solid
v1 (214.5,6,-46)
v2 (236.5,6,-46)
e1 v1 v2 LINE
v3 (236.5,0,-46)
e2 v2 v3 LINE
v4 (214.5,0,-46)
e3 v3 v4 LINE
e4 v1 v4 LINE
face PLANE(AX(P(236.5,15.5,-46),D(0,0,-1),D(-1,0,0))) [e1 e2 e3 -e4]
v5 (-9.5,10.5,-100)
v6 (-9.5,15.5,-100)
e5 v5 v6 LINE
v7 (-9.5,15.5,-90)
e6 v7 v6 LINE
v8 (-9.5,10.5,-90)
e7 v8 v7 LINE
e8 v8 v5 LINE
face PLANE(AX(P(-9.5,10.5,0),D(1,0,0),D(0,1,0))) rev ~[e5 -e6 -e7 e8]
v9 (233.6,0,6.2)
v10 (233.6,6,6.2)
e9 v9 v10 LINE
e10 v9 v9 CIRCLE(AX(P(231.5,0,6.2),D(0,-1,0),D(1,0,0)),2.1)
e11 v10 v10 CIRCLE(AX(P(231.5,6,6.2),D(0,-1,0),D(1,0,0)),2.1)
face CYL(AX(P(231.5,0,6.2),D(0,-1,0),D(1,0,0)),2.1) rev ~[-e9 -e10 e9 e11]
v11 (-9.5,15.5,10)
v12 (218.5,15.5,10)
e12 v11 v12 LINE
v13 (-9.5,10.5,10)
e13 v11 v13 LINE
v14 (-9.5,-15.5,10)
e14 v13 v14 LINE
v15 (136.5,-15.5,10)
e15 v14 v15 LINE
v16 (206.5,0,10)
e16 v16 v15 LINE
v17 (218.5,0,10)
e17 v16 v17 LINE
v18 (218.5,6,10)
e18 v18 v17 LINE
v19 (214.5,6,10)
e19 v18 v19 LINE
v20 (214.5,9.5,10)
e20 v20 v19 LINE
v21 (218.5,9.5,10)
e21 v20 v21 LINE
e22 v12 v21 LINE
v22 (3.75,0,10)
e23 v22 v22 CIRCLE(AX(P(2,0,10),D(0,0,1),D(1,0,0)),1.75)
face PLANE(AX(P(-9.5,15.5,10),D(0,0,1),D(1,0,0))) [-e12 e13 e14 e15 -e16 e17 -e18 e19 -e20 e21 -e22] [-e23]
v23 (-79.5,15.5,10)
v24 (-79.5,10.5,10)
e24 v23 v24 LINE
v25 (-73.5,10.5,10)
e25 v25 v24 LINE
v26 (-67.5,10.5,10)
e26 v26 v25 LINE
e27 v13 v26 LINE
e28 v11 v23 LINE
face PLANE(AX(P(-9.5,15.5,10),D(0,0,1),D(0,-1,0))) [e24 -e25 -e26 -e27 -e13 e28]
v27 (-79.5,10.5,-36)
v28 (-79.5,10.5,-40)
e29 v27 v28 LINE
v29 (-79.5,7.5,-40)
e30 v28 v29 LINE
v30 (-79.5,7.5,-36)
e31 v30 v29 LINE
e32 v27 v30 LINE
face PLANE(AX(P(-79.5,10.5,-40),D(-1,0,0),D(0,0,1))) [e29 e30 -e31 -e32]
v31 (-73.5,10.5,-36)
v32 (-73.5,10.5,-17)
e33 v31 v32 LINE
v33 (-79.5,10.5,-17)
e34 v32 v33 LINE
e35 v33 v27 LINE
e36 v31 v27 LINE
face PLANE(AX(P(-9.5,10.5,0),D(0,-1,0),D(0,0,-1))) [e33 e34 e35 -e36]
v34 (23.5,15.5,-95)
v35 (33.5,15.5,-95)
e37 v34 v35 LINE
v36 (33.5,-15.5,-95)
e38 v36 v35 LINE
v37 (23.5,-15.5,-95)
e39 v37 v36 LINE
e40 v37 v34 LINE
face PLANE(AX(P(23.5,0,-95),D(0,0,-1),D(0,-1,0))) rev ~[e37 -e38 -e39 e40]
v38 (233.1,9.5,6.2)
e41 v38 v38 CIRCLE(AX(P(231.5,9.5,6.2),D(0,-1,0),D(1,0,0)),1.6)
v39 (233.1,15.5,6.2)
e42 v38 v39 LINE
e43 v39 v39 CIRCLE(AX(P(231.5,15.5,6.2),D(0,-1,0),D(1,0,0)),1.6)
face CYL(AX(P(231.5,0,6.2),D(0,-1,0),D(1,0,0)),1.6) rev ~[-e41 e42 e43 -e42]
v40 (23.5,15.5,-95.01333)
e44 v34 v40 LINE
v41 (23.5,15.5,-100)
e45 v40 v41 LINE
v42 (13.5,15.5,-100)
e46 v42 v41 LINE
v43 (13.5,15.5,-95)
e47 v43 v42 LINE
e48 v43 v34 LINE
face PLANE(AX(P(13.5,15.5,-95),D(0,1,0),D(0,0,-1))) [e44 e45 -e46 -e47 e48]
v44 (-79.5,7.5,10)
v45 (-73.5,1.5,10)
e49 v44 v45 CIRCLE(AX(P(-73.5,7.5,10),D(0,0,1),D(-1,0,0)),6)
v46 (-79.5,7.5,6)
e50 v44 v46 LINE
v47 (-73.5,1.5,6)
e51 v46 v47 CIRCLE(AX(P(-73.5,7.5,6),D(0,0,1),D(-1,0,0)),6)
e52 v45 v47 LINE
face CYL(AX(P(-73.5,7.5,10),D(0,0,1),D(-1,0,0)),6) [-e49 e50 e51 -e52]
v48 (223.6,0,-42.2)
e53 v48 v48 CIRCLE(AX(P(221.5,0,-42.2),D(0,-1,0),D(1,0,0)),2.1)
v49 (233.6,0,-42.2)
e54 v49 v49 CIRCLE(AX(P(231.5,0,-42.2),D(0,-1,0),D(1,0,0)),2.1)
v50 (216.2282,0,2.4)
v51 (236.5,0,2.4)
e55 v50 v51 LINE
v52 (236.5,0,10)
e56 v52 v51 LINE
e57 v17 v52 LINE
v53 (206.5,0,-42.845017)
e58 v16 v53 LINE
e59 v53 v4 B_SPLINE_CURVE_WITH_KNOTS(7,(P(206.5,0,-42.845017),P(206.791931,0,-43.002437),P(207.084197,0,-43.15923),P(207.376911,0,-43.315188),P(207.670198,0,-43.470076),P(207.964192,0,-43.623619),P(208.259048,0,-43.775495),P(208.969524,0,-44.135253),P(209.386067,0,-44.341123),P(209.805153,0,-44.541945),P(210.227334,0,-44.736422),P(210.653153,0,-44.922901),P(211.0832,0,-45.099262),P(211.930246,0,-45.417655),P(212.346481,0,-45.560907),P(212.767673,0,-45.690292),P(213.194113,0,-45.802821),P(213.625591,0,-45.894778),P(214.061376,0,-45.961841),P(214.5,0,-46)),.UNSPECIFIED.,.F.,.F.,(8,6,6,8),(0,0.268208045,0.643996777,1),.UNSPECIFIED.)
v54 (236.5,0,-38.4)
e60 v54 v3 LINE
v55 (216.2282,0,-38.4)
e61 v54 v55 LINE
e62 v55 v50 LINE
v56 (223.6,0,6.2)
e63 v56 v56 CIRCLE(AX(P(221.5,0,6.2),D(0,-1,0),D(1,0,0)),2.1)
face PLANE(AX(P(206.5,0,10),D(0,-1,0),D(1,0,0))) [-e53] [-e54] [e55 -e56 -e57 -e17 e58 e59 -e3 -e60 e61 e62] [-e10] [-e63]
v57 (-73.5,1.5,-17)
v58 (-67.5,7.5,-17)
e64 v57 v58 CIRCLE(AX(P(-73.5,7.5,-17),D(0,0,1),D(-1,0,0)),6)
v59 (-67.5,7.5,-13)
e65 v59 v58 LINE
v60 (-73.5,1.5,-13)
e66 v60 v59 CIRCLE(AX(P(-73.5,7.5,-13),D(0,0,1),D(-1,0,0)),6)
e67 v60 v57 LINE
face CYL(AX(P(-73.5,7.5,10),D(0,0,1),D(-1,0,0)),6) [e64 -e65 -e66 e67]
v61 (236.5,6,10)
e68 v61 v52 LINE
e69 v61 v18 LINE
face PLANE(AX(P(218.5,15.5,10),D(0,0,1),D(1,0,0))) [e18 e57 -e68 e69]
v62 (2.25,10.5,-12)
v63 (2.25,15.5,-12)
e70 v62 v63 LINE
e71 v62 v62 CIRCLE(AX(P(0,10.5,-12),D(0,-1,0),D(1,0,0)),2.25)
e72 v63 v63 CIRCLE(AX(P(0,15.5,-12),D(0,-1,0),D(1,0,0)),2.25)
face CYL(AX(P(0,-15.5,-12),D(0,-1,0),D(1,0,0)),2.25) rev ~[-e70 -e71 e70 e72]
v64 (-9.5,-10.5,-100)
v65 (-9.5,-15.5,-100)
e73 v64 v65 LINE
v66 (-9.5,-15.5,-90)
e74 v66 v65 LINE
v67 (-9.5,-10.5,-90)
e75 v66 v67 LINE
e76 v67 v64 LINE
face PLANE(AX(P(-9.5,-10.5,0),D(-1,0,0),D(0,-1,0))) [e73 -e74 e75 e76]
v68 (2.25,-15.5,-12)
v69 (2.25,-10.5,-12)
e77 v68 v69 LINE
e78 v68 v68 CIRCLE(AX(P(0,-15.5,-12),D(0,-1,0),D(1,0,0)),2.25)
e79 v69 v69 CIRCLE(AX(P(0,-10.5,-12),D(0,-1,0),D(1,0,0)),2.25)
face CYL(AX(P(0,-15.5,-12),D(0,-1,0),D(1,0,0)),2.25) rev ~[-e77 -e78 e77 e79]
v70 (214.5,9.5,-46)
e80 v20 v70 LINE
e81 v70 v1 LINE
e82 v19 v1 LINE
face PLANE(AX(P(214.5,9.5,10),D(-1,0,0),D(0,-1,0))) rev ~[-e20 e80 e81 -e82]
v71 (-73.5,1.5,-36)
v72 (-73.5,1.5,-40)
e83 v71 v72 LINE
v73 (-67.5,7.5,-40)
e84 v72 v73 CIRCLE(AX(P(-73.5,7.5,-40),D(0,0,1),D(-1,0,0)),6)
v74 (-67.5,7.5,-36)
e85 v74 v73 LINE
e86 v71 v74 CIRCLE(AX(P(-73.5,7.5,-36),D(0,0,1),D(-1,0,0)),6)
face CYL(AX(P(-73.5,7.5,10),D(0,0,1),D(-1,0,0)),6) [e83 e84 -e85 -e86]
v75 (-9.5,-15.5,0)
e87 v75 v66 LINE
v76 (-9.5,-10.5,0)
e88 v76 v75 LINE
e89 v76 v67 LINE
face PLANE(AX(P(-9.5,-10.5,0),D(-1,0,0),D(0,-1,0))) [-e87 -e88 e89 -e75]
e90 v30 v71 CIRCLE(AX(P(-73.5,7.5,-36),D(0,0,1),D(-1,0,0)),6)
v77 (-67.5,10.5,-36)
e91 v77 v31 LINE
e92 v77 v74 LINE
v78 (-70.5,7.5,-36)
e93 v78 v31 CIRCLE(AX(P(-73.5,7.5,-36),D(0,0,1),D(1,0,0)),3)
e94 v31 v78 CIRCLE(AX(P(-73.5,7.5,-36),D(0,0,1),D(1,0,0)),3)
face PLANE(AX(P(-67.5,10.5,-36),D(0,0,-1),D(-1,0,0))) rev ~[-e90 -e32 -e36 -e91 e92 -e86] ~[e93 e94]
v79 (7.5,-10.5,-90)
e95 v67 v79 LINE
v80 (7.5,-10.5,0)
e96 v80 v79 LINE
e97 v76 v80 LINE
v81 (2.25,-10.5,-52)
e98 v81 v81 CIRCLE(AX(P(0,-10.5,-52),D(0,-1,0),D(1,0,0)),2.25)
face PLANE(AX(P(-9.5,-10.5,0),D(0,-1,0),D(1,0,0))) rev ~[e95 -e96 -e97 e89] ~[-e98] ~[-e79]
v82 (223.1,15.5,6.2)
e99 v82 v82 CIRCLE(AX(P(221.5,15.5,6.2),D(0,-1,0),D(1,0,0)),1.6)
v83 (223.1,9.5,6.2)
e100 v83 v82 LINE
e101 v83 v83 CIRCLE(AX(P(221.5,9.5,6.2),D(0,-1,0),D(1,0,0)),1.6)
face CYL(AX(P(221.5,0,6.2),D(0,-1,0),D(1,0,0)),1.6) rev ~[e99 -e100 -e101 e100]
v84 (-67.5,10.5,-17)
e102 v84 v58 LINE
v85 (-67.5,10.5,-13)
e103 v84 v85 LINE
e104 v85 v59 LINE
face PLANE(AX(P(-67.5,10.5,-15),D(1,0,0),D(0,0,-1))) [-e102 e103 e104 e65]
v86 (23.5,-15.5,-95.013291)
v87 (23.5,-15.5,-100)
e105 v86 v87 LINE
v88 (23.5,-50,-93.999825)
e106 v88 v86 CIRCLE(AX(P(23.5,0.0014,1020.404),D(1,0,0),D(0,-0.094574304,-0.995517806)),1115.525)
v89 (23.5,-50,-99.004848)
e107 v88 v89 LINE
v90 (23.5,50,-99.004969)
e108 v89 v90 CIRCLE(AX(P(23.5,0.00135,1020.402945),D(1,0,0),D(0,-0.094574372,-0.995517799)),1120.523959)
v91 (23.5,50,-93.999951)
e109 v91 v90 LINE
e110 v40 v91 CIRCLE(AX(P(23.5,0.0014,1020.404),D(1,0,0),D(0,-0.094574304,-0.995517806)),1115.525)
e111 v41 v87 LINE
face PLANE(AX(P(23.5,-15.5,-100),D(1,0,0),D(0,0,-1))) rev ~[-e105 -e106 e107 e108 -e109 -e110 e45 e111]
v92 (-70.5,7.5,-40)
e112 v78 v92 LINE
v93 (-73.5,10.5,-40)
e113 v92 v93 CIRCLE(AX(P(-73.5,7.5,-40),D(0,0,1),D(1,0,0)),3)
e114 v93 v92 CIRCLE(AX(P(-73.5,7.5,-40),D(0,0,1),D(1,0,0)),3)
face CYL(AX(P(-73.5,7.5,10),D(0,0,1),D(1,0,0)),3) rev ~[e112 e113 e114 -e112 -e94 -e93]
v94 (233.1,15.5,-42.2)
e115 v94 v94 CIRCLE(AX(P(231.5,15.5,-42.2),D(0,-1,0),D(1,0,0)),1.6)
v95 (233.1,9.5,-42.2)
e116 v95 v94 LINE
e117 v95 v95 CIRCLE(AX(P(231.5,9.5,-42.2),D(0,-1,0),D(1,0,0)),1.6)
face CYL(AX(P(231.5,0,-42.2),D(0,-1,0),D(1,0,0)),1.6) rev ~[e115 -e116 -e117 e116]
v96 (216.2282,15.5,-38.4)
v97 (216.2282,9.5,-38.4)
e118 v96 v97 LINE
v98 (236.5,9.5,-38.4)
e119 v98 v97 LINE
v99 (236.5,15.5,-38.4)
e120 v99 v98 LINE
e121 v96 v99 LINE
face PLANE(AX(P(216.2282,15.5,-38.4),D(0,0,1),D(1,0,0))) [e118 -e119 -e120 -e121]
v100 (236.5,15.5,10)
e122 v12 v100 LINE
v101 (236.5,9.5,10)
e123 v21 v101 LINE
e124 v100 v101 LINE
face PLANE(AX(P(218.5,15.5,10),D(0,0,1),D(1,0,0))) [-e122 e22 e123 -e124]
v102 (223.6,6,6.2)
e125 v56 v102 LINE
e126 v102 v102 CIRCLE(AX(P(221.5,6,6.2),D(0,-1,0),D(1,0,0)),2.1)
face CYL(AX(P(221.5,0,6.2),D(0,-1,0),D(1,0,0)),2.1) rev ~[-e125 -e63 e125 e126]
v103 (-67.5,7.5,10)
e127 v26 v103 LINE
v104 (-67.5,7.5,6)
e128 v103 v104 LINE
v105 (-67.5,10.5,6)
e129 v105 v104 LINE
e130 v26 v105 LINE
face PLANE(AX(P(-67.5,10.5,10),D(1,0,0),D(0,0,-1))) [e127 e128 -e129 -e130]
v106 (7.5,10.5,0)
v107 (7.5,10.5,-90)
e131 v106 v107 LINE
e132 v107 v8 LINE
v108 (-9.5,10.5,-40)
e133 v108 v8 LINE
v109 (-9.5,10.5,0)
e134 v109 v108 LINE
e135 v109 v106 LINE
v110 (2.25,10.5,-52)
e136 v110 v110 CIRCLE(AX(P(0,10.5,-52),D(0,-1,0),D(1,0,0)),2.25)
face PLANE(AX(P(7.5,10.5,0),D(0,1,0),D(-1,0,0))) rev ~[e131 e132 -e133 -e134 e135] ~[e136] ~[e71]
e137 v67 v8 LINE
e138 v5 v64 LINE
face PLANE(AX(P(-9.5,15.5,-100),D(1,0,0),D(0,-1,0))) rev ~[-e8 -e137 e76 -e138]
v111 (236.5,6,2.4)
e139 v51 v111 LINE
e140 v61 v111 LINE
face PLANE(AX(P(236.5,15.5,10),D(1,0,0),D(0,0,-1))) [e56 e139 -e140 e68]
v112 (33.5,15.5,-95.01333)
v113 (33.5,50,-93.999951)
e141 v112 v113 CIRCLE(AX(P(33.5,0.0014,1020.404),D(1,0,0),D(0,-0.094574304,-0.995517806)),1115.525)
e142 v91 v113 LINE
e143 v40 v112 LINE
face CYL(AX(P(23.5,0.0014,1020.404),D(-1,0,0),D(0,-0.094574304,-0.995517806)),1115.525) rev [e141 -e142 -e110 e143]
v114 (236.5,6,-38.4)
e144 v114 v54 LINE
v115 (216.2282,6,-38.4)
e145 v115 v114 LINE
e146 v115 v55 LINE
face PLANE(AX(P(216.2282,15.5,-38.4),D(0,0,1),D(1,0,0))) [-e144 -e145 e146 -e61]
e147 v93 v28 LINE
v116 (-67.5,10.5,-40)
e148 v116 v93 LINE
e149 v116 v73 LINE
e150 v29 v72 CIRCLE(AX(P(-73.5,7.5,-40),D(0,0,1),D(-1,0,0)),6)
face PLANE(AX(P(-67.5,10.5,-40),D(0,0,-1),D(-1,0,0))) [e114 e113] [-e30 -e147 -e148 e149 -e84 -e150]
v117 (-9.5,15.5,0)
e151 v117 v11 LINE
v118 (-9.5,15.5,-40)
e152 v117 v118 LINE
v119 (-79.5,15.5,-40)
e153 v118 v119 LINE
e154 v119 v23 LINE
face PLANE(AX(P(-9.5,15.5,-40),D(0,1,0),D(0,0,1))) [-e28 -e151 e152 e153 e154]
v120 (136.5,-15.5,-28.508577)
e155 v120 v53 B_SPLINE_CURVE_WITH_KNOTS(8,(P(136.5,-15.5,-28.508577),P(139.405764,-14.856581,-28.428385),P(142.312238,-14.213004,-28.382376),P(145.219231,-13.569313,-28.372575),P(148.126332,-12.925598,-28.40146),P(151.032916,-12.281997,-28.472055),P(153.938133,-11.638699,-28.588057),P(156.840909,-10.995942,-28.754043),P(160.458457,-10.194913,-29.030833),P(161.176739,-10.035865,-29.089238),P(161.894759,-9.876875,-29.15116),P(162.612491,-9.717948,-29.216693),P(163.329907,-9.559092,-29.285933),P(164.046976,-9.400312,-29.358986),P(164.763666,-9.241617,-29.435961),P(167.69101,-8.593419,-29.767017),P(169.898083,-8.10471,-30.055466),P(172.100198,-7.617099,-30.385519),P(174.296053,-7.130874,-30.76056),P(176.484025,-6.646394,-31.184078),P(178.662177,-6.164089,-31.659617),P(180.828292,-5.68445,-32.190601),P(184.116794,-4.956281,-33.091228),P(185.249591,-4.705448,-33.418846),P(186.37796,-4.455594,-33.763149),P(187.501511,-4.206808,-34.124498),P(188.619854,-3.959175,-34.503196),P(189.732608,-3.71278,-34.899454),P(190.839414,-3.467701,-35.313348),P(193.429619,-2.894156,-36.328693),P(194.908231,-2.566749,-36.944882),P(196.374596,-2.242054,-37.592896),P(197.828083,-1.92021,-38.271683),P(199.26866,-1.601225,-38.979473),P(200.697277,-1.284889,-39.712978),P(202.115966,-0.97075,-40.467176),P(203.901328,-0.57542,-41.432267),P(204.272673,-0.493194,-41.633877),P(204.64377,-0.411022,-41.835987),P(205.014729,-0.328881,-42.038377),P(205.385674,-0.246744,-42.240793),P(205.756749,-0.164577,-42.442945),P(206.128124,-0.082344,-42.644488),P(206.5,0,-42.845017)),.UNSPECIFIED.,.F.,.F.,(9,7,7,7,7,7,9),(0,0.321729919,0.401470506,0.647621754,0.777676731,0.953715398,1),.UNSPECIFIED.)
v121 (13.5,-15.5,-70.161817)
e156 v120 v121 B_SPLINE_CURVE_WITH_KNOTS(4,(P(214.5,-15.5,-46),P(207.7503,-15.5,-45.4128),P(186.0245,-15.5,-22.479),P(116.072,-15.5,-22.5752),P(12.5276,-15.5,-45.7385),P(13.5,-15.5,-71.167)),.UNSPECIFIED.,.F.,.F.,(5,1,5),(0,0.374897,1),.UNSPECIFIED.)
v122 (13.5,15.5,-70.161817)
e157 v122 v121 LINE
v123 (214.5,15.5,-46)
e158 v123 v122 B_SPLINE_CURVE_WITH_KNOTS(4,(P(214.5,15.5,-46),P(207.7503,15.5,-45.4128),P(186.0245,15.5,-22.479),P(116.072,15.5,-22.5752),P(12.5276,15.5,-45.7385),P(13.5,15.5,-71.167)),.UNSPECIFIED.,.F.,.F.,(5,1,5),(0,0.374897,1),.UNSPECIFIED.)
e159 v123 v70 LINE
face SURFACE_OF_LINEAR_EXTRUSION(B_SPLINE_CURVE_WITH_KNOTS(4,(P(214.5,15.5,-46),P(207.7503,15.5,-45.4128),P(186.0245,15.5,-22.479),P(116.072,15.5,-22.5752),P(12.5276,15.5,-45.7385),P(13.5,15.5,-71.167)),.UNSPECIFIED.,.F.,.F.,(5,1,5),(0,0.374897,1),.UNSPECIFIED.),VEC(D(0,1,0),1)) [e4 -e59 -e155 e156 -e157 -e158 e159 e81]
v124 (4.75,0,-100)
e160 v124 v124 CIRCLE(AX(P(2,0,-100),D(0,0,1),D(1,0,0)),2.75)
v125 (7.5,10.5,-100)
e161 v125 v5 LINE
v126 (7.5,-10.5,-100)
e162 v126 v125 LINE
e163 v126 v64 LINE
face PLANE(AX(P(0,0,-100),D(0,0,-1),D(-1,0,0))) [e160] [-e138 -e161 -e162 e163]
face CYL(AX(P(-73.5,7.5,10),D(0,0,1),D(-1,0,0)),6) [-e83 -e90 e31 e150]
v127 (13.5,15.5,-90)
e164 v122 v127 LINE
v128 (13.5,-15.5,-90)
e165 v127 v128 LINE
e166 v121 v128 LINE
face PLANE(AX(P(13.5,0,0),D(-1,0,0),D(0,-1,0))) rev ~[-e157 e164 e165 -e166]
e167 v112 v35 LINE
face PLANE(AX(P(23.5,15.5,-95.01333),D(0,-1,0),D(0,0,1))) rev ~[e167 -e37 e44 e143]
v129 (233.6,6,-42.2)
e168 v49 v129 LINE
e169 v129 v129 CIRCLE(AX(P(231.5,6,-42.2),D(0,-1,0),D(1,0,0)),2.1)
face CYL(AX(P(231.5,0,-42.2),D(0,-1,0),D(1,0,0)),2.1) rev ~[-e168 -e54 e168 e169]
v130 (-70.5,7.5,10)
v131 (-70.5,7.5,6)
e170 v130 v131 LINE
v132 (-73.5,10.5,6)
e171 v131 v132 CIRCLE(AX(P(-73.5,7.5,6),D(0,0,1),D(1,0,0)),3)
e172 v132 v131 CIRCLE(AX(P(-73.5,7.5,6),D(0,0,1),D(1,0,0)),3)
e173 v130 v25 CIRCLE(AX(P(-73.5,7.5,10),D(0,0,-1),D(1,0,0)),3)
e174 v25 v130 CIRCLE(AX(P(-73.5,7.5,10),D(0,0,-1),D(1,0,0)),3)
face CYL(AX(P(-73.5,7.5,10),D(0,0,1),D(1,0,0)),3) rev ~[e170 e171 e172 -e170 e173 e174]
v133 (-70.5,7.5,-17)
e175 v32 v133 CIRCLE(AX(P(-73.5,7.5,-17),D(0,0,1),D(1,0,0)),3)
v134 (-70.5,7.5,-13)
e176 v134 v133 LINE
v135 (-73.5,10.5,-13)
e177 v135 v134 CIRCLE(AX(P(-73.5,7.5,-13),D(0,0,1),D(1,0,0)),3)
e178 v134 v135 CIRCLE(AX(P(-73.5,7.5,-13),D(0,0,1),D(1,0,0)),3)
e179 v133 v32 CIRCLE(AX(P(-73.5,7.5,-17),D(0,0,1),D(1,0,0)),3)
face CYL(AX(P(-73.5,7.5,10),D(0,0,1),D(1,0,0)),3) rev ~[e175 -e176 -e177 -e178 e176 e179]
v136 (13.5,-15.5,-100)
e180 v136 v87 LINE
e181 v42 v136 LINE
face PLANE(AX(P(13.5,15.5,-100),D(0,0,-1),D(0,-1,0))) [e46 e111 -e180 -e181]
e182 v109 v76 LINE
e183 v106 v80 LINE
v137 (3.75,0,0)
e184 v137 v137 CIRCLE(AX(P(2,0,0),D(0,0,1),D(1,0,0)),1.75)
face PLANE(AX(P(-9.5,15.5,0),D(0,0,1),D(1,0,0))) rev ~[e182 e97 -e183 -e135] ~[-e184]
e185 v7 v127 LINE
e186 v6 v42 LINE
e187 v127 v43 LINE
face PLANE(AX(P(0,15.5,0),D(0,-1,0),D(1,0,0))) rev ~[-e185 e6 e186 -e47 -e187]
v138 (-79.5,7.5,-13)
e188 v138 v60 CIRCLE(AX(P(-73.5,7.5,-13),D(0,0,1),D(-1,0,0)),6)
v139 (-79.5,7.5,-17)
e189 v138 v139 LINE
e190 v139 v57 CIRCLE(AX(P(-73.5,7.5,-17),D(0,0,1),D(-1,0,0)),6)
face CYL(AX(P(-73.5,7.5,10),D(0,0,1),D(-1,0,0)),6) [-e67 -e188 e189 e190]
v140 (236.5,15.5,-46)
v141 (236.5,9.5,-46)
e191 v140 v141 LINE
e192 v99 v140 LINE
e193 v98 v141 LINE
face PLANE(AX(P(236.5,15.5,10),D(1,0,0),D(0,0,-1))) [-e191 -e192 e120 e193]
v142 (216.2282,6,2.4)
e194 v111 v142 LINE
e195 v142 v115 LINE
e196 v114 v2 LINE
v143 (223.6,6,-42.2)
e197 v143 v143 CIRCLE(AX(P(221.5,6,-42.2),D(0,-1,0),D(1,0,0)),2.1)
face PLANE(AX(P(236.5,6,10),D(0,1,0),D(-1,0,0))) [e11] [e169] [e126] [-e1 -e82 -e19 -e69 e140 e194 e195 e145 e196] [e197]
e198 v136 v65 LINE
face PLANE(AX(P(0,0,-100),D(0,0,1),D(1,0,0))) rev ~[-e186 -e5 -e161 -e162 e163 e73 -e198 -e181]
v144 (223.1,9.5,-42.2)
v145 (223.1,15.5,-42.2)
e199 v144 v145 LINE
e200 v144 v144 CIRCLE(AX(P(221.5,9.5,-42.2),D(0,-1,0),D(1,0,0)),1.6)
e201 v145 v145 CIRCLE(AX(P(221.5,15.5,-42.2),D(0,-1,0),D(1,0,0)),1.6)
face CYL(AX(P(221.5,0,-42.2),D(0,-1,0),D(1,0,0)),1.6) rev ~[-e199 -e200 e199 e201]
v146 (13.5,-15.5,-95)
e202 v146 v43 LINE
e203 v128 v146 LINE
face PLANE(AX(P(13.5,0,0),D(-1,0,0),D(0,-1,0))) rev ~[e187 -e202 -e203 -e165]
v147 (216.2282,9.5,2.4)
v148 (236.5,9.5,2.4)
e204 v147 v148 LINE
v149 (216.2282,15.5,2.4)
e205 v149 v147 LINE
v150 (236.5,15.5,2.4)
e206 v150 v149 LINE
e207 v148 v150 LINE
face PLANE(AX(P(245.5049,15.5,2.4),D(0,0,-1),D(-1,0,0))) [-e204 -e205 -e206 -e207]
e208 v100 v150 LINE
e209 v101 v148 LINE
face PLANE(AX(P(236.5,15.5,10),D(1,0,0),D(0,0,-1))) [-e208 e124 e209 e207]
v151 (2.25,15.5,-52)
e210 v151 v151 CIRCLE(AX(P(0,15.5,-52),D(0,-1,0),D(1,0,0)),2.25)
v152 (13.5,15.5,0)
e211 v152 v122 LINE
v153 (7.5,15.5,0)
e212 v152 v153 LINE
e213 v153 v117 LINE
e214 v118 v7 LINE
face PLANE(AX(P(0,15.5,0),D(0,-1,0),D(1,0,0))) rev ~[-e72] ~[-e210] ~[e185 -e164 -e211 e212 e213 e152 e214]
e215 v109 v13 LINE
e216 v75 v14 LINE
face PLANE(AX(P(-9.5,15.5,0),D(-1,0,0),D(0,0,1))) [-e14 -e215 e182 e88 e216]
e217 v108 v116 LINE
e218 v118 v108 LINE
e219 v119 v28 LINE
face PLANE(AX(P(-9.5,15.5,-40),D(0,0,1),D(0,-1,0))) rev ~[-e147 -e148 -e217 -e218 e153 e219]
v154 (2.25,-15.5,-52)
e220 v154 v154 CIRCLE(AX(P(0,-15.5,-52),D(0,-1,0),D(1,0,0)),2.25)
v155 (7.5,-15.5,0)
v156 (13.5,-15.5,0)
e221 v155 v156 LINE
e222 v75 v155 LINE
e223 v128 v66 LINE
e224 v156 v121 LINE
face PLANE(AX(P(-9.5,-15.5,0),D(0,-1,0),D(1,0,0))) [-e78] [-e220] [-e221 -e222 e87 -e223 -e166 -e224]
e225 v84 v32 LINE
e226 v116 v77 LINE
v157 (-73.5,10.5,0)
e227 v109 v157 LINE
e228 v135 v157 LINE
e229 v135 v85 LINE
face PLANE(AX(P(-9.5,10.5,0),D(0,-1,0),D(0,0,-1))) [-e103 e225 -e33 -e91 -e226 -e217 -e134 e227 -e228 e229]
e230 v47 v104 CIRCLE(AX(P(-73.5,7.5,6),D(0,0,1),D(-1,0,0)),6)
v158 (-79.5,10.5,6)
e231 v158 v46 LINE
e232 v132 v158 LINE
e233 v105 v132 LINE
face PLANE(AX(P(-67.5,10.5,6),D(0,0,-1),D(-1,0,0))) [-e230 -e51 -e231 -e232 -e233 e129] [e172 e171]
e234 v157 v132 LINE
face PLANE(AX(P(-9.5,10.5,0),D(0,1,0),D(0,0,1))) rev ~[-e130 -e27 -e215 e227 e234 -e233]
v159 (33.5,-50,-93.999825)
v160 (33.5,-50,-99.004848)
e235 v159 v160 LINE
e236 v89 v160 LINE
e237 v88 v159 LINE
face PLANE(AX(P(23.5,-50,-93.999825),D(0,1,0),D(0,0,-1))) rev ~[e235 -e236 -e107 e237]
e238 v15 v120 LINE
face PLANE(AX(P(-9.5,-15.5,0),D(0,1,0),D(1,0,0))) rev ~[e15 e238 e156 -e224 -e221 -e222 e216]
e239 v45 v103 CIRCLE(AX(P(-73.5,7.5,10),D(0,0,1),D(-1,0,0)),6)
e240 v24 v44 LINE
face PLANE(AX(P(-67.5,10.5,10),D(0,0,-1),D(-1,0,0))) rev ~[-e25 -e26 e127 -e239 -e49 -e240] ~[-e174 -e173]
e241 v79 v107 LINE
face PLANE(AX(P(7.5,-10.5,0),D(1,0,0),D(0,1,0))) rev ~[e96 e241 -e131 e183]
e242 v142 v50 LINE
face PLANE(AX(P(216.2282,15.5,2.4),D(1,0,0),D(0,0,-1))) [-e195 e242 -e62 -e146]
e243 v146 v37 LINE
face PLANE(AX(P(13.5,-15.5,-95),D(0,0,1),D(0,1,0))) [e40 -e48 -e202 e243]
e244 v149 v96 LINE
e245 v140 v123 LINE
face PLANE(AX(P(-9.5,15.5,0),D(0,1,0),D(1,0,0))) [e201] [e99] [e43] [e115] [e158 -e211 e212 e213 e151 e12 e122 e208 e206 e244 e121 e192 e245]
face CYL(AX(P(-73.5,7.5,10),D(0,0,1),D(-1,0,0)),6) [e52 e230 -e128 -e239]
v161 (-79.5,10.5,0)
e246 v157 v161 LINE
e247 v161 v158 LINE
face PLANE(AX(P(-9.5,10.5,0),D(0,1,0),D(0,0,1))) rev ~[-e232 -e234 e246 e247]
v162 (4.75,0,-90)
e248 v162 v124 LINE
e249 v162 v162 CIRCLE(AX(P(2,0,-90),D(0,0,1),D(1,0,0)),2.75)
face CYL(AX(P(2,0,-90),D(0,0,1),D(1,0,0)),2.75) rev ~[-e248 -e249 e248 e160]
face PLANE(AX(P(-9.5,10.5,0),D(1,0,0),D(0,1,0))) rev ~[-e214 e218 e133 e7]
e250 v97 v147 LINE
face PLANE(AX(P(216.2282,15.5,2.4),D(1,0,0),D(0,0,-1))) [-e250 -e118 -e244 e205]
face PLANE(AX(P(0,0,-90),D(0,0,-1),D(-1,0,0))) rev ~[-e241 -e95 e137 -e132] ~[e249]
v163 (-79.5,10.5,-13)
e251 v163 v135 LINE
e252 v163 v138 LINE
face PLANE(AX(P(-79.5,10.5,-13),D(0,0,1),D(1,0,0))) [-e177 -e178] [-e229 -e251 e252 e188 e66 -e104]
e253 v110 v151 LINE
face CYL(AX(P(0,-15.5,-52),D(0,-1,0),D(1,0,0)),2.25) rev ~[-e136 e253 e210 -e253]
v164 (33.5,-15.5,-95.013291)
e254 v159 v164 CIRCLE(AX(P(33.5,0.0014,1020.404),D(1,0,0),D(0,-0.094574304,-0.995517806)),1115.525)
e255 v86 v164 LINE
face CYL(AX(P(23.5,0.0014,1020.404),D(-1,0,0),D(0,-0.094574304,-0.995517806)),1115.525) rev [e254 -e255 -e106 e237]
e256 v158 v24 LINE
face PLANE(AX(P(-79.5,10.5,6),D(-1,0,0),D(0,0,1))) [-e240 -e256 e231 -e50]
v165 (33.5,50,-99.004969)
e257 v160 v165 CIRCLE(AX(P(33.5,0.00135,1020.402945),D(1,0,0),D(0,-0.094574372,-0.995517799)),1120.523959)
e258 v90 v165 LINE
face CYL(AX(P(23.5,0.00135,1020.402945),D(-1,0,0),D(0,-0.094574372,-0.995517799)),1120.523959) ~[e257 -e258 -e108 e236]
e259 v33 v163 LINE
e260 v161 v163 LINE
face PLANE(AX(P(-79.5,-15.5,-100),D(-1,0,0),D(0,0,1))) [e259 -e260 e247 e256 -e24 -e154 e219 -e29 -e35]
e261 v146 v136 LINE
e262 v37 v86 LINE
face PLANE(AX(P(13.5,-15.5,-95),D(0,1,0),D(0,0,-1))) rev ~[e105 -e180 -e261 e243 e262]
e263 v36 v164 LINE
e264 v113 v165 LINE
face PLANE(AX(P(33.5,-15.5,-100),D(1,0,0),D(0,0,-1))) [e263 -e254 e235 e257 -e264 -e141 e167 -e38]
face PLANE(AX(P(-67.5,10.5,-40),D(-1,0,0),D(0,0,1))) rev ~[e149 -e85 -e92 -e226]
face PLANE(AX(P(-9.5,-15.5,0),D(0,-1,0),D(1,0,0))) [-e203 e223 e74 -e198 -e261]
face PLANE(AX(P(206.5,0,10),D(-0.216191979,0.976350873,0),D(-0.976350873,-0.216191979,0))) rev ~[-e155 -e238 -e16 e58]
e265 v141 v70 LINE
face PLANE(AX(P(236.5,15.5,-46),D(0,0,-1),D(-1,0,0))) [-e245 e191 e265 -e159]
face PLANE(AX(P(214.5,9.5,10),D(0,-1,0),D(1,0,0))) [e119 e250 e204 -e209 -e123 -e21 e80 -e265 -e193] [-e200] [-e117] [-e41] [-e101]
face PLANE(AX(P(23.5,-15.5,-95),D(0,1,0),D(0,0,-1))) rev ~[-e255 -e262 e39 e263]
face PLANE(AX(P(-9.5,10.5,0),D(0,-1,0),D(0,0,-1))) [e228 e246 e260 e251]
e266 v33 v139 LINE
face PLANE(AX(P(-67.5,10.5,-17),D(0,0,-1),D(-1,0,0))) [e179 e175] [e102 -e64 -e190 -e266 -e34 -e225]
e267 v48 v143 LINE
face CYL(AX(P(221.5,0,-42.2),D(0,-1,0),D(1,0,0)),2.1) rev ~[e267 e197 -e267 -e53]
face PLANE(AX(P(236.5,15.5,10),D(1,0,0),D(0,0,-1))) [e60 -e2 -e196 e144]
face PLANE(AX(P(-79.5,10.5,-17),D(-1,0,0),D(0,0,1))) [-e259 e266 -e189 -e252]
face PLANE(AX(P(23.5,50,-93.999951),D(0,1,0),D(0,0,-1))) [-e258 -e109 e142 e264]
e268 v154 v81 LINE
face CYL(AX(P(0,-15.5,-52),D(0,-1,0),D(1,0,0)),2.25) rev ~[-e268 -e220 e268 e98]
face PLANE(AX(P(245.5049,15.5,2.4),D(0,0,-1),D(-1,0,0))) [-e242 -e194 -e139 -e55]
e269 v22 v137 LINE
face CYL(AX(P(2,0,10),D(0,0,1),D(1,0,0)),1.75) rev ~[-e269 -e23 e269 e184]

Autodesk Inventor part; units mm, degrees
sketch "Skizze1" plane through (0, 0, 0) normal (0, 0, 1) x (1, 0, 0)
  line L0 (-9.5, -10.5) -> (7.5, -10.5)
  line L1 (7.5, -10.5) -> (7.5, 10.5)
  line L2 (7.5, 10.5) -> (-9.5, 10.5)
  line L3 (-14.1, 0) -> (18.1, 0) projected
  line L4 (0, -21.7) -> (0, 21.7) projected
  line L5 (-9.5, -10.5) -> (-9.5, -15.5)
  line L6 (-9.5, -15.5) -> (13.5, -15.5)
  line L7 (-9.5, 10.5) -> (-9.5, 15.5)
  line L8 (-9.5, 15.5) -> (13.5, 15.5)
  line L9 (13.5, 15.5) -> (13.5, -15.5)
  point P0 (0, 0)
  dimension "d2" = 21
  dimension "d4" = 7.5
  dimension "d5" = 5
  dimension "d8" = 5
  dimension "d9" = 23
  dimension "d147" = 6
  dimension "d148" = 23
extrude "Tower" add sketch "Skizze1" against normal blind 100 contours L0 L4 L6 L5 | L0 L1 L3 L9 L6 L4 | L1 L2 L4 L8 L9 L3 | L2 L7 L8 L4
ref_plane "Arbeitsebene1" through (0, 0, -100) normal (0, 0, -1) x (-1, 0, 0)
sketch "Skizze6" plane through (-9.5, 15.5, 0) normal (0, 1, 0) x (1, 0, 0)
  line L0 (0, 0) -> (23, 0) projected
  line L1 (0, 0) -> (0, -10)
  line L2 (0, -10) -> (228, -10)
  line L3 (23, 0) -> (23, 100) projected
  line L4 (0, -10) -> (246, -10)
  line L5 (246, -10) -> (246, 46)
  line L6 (246, 46) -> (224, 46)
  line L7 (246, 46) -> (268, 46) construction
  line L8 (23, 71.167) -> (23, 0)
  line L9 (0, 0) -> (17, 0) projected
  line L10 (0, 0) -> (0, -12)
  line L11 (246, -12) -> (246, -10)
  spline S0 degree 4 poles (224, 46) (217.2503, 45.4128) (195.5245, 22.479) (125.572, 22.5752) (22.0276, 45.7385) (23, 71.167) knots 0 0 0 0 0 0.374897 1 1 1 1 1
  line L12 (221.3219, 44.8948) -> (192.3718, 31.261) construction
  arc A0 (195.0075, 33.4464) -> (217.9584, 44.255) centre (166.5411, 123.6635) ccw construction
  line L13 (148.8192, 27.3272) -> (94.421, 32.9509) construction
  arc A1 (99.9704, 33.0497) -> (143.4073, 28.5591) centre (158.3015, 384.9585) ccw construction
  line L14 (0, 0) -> (0, 100) projected
  point P0 (9.5, 0)
  point P1 (206.8469, 38.0779)
  point P2 (121.6201, 30.1391)
  point P3 (23, 70.1618)
  dimension "d34" = 10
  dimension "d38" = 246
  dimension "d39" = 56
  dimension "d40" = 180
  dimension "d41" = 22
extrude "Gripperbogen" add sketch "Skizze6" against normal blind 31 contours L0 L3 S0 L6 L5 L4 L2 L1
sketch "Skizze9" plane through (-9.5, 15.5, 10) normal (0, 0, 1) x (1, 0, 0)
  line L0 (216, -15.5) -> (246, -15.5)
  line L1 (246, 0) -> (246, -31) projected
  line L2 (216, -15.5) -> (246, -15.5) construction
  line L3 (246, -15.5) -> (246, -31)
  line L4 (224, 0) -> (224, -31) projected
  line L5 (246, -9.5) -> (224, -9.5)
  line L6 (224, -9.5) -> (224, -6)
  line L7 (224, -6) -> (246, -6)
  line L8 (246, -6) -> (246, -9.5)
  line L9 (0, 0) -> (246, 0) projected
  line L10 (0, 0) -> (246, 0) projected
  line L11 (0, 0) -> (0, -31) projected
  line L12 (246, -31) -> (0, -31) projected
  line L13 (246, 0) -> (246, -31) projected
  line L14 (216, -15.5) -> (146, -31)
  point P0 (9.5, -15.5)
  point P1 (246, -6)
  point P2 (235, -6)
  dimension "d61" = 3.5
  dimension "d150" = 6
  dimension "d151" = 6
  dimension "d152" = 100
  dimension "d153" = 30
extrude "Extrusion8" cut sketch "Skizze9" against normal blind 74.5 contours L0 L4 L12 L14 | L0 L1 L12 L4 | L4 L7 L1 L5
sketch "Skizze10" plane through (-9.5, 15.5, -100) normal (0, 1, 0) x (1, 0, 0)
  line L0 (225.7282, -61.6) -> (255.0049, -61.6)
  line L1 (255.0049, -61.6) -> (255.0049, -102.4)
  line L2 (255.0049, -102.4) -> (225.7282, -102.4)
  line L3 (225.7282, -102.4) -> (225.7282, -61.6)
  line L4 (0, -110) -> (246, -110) projected
  line L5 (246, -54) -> (224, -54) projected
  point P0 (9.5, -100)
  dimension "d64" = 7.6
  dimension "d65" = 7.6
extrude "Extrusion9" cut sketch "Skizze10" against normal blind 74.5
sketch "Skizze12" plane through (0, 0, -100) normal (0, 0, -1) x (-1, 0, 0)
  line L0 (-214.5, 9.5) -> (-236.5, 9.5) projected
  line L1 (-236.5, 15.5) -> (-236.5, 9.5) projected
  line L2 (9.5, 15.5) -> (-236.5, 15.5) projected
  line L3 (9.5, 15.5) -> (9.5, -15.5) projected
  line L4 (-136.5, -15.5) -> (9.5, -15.5) projected
  line L5 (-136.5, -15.5) -> (-206.5, 0) projected
  line L6 (-206.5, 0) -> (-236.5, 0) projected
  line L7 (-236.5, 6) -> (-236.5, 0) projected
  line L8 (-236.5, 6) -> (-214.5, 6) projected
  line L9 (-214.5, 6) -> (-214.5, 9.5) projected
  line L10 (-7.5, 10.5) -> (9.5, 10.5) projected
  line L11 (9.5, 10.5) -> (9.5, 15.5) projected
  line L12 (9.5, 15.5) -> (-13.5, 15.5) projected
  line L13 (-13.5, 15.5) -> (-13.5, -15.5) projected
  line L14 (-13.5, -15.5) -> (9.5, -15.5) projected
  line L15 (9.5, -15.5) -> (9.5, -10.5) projected
  line L16 (9.5, -10.5) -> (-7.5, -10.5) projected
  line L17 (-7.5, -10.5) -> (-7.5, 10.5) projected
  line L18 (-13.5, 15.5) -> (-13.5, -15.5) projected
  line L19 (-13.5, -15.5) -> (9.5, -15.5)
  line L20 (9.5, -15.5) -> (9.5, 15.5)
  line L21 (9.5, 15.5) -> (-13.5, 15.5)
  line L22 (-13.5, 15.5) -> (-13.5, -15.5)
  point P0 (9.5, 25.25)
  point P1 (-13.5, -5.25)
  point P2 (-13.5, 15.5)
extrude "Extrusion10" add sketch "Skizze12" against normal blind 10 contours L2 L3 L10 L17 L16 L4 L13 | L3 L16 L17 L10
ref_plane "Arbeitsebene3" through (0, 0, -113.5) normal (0, 0, -1) x (-1, 0, 0)
ref_plane "Arbeitsebene4" through (-9.5, -5.25, -113.5) normal (-1, 0, 0) x (0, 0, 1)
sketch "Skizze18" plane through (0, 0, -90) normal (0, 0, 1) x (1, 0, 0)
  line L0 (7.5, 10.5) -> (7.5, -10.5) projected
  line L1 (-9.5, 10.5) -> (7.5, 10.5) projected
  circle A0 centre (2, 0) radius 2.75
  line L2 (7.5, -10.5) -> (-9.5, -10.5) projected
  line L3 (-9.5, 10.5) -> (-9.5, -10.5) projected
  point P0 (0, 0)
  dimension "d132" = 5.5
  dimension "d154" = 0
  dimension "d155" = 11.5
  dimension "d161" = 21
  dimension "d162" = 17
extrude "Extrusion15" cut sketch "Skizze18" against normal through all contours A0
sketch "Skizze19" plane through (-9.5, -15.5, -100) normal (-1, 0, 0) x (0, 0, 1)
  line L0 (0, 0) -> (0, 31) projected
  line L1 (110, 0) -> (0, 0) projected
  line L2 (110, 31) -> (110, 0) projected
  line L3 (0, 31) -> (110, 31) projected
  line L4 (100, 26) -> (10, 26) projected
  line L5 (100, 26) -> (100, 5) projected
  line L6 (100, 5) -> (10, 5) projected
  line L7 (60, 31) -> (60, 0)
  line L8 (10, 26) -> (10, 5) projected
  line L9 (10, 26) -> (0, 26)
  line L10 (10, 5) -> (0, 5)
  line L11 (100, 26) -> (110, 26)
  line L12 (10, 26) -> (10, 5) projected
  point P0 (100, 15.5)
  point P1 (23.5, 25.5)
  point P2 (23.5, 5)
  point P3 (60, 26)
  point P4 (60, 5)
  point P5 (20, 10.25)
  dimension "d113" = 50
extrude "Extrusion16" add sketch "Skizze19" along normal blind 70 contours L11 L4 L7 L3 L2
sketch "Skizze27" plane through (206.3978, 0, 10) normal (0, -1, 0) x (1, 0, 0)
  line L0 (9.8304, -7.6) -> (30.1022, -7.6) projected
  line L1 (30.1022, 0) -> (30.1022, -7.6) projected
  line L2 (0.1022, 0) -> (30.1022, 0) projected
  line L3 (0.1022, 0) -> (0.1022, -52.845) projected
  line L4 (30.1022, -56) -> (8.1022, -56) projected
  line L5 (30.1022, -48.4) -> (30.1022, -56) projected
  line L6 (30.1022, -48.4) -> (9.8304, -48.4) projected
  line L7 (9.8304, -48.4) -> (9.8304, -7.6) projected
  circle A0 centre (25.1022, -3.8) radius 1.6
  circle A1 centre (15.1022, -3.8) radius 1.6
  line L8 (30.1022, 0) -> (30.1022, -7.6) projected
  circle A2 centre (25.1022, -52.2) radius 1.6
  circle A3 centre (15.1022, -52.2) radius 1.6
  point P0 (-206.3978, -10)
  point P1 (30.1022, -3.8)
  point P2 (28.2249, -52.2)
  point P3 (30.1022, -52.2)
  dimension "d120" = 3.2
  dimension "d121" = 5
  dimension "d122" = 3.2
  dimension "d123" = 10
  dimension "d127" = 3.2
  dimension "d129" = 3.2
extrude "Extrusion18" cut sketch "Skizze27" against normal blind 20
sketch "Skizze15" plane through (-9.5, -15.5, -100) normal (0, -1, 0) x (1, 0, 0)
  line L0 (23, 0) -> (0, 0) projected
  line L1 (23, 29.8382) -> (23, 0) projected
  circle A0 centre (9.5, 48) radius 2.25
  circle A1 centre (9.5, 88) radius 2.25
  line L2 (146, 110) -> (0, 110) projected
  line L3 (0, 110) -> (0, 0) projected
  line L4 (146, 71.4914) -> (146, 110) projected
  point P0 (9.5, 100)
  dimension "d138" = 4.5
  dimension "d142" = 4.5
  dimension "d143" = 40
  dimension "d156" = 22
  dimension "d157" = 9.5
extrude "Extrusion13" cut sketch "Skizze15" against normal blind 100
sketch "Skizze32" plane through (-9.5, -15.5, 10) normal (0, 0, 1) x (1, 0, 0)
  circle A0 centre (11.5, 15.5) radius 2.75 projected
  line L0 (0, 0) -> (0, 31) projected
  line L1 (0, 31) -> (23, 31) projected
  line L2 (23, 31) -> (23, 0) projected
  line L3 (23, 0) -> (0, 0) projected
  circle A1 centre (11.5, 15.5) radius 1.75
  point P0 (9.5, 15.5)
  dimension "d158" = 3.5
extrude "Extrusion20" cut sketch "Skizze32" against normal blind 10 contours A1
sketch "Skizze34" plane through (0, 0, -100) normal (0, 0, -1) x (-1, 0, 0)
  circle A0 centre (-2, 0) radius 2.75 projected
  line L0 (9.5, -15.5) -> (9.5, 15.5) projected
  line L1 (9.5, 15.5) -> (-13.5, 15.5) projected
  line L2 (-13.5, 15.5) -> (-13.5, -15.5) projected
  line L3 (-13.5, -15.5) -> (9.5, -15.5) projected
  point P0 (0, 0)
  dimension "d171" = 23
  dimension "d172" = 31
  dimension "d173" = 15.5
  dimension "d174" = 11.5
  dimension "d175" = 5.5
sketch "Skizze35" plane through (13.5, -15.5, -100) normal (1, 0, 0) x (0, 0, -1)
  line L0 (-29.8382, 31) -> (0, 31) projected
  line L1 (-29.8382, 0) -> (0, 0) projected
  line L2 (0, 31) -> (0, 0) projected
  line L3 (-29.8382, 31) -> (0, 31) projected
  line L4 (-29.8382, 31) -> (-29.8382, 0) projected
  line L5 (-29.8382, 0) -> (0, 0) projected
  line L6 (0, 31) -> (0, 0) projected
  line L7 (0, 0) -> (-5, 0)
  line L8 (-5, 0) -> (-5, 31)
  line L9 (-5, 31) -> (0, 31)
  line L10 (0, 31) -> (0, 0)
  point P0 (-100, 15.5)
  point P1 (-5, 31)
  point P2 (-5, 0)
  dimension "d176" = 5
extrude "Extrusion22" add sketch "Skizze35" along normal blind 10 contours L0 L2 L1 L8
sketch "Skizze36" plane through (23.5, -15.5, -100) normal (1, 0, 0) x (0, 0, -1)
  line L0 (-5, 0) -> (0, 0) projected
  line L1 (0, 0) -> (0, 31) projected
  line L2 (0, 31) -> (-5, 31) projected
  line L3 (-5, 31) -> (-5, 0) projected
  arc A0 (-9.879, -89.9986) -> (-9.879, 121.0014) centre (-1120.404, 15.5014) ccw
  line L4 (-5, 15.5) -> (0, 15.5)
  arc A1 (-4.9014, -90.4715) -> (-4.9014, 121.4742) centre (-1120.404, 15.5014) ccw
  line L5 (-5, 15.5) -> (0, 15.5)
  line L6 (-14.7679, -34.5) -> (17.3967, -34.5)
  line L7 (-14.7679, 65.5) -> (14.0644, 65.5)
  point P0 (-100, 15.5)
  point P1 (-0.9951, 65.5)
  point P2 (-6.0001, 65.5)
  point P3 (-4.9867, 31)
  point P4 (-4.9867, 0)
  point P5 (-6.0002, -34.5)
  point P6 (-0.9952, -34.5)
  dimension "d181" = 5
  dimension "d182" = 100
extrude "Extrusion23" add sketch "Skizze36" along normal blind 10
sketch "Skizze40" plane through (206.5, 0, 10) normal (0, -1, 0) x (1, 0, 0)
  circle A0 centre (15, -52.2) radius 1.6 projected
  circle A1 centre (15, -3.8) radius 1.6 projected
  circle A2 centre (25, -52.2) radius 1.6 projected
  circle A3 centre (25, -3.8) radius 1.6 projected
  circle A4 centre (15, -3.8) radius 2.1
  circle A5 centre (25, -3.8) radius 2.1
  circle A6 centre (15, -52.2) radius 2.1
  circle A7 centre (25, -52.2) radius 2.1
  point P0 (-206.5, -10)
  dimension "d198" = 4.2
  dimension "d199" = 4.2
  dimension "d200" = 4.2
  dimension "d201" = 4.2
extrude "Extrusion27" cut sketch "Skizze40" against normal blind 6 contours A0 | A1 | A2 | A3 | A4 | A5 | A6 | A7
sketch "Skizze41" plane through (-9.5, 10.5, 0) normal (0, -1, 0) x (1, 0, 0)
  line L0 (0, 10) -> (-70, 10) projected
  line L1 (-70, -40) -> (-70, 10) projected
  line L2 (0, -40) -> (-70, -40) projected
  line L3 (-70, 10) -> (-58, 10)
  line L4 (-58, 10) -> (-58, 6)
  line L5 (-58, 6) -> (-70, 6)
  line L6 (-70, 6) -> (-70, 10)
  line L7 (-70, -40) -> (-58, -40)
  line L8 (-58, -40) -> (-58, -36)
  line L9 (-58, -36) -> (-70, -36)
  line L10 (-70, -36) -> (-70, -40)
  line L11 (-70, -25) -> (-70, -21)
  line L12 (-70, -9) -> (-70, -5)
  line L13 (-70, -15) -> (0, -15)
  line L14 (0, 10) -> (0, -100) projected
  line L15 (-70, -13) -> (-58, -13)
  line L16 (-58, -13) -> (-58, -17)
  line L17 (-58, -17) -> (-70, -17)
  line L18 (-70, -17) -> (-70, -13)
  point P0 (9.5, 0)
  point P1 (-70, -36)
  point P2 (-70, 6)
  point P3 (-58, 8)
  point P4 (-58, -15)
  point P5 (-58, -38)
  point P6 (-70, -17)
  dimension "d204" = 12
  dimension "d205" = 4
  dimension "d207" = 4
  dimension "d222" = 4
extrude "Extrusion28" add sketch "Skizze41" along normal blind 9 contours L4 L5 L1 L0 | L16 L17 L1 L13 | L13 L1 L15 L16 | L2 L1 L9 L8
sketch "Skizze42" plane through (-9.5, -15.5, 10) normal (0, 0, 1) x (1, 0, 0)
  line L0 (-58, 17) -> (-70, 17) projected
  line L1 (-70, 26) -> (-58, 26) projected
  line L2 (-58, 26) -> (-70, 26)
  line L3 (-64, 26) -> (-64, 17)
  line L4 (-61, 26) -> (-67, 26)
  line L5 (-70, 31) -> (-70, 17) projected
  line L6 (-58, 26) -> (-58, 17) projected
  circle A0 centre (-64, 23) radius 3
  arc A1 (-70, 23) -> (-58, 23) centre (-64, 23) ccw
  point P0 (9.5, 15.5)
  point P1 (0, 17)
  dimension "d220" = 6
  dimension "d221" = 3
extrude "Extrusion29" cut sketch "Skizze42" against normal blind 100 contours L0 A1 L6 | L0 L5 A1 | A0 L3 | L3 A0
properties part number "Korpus"
